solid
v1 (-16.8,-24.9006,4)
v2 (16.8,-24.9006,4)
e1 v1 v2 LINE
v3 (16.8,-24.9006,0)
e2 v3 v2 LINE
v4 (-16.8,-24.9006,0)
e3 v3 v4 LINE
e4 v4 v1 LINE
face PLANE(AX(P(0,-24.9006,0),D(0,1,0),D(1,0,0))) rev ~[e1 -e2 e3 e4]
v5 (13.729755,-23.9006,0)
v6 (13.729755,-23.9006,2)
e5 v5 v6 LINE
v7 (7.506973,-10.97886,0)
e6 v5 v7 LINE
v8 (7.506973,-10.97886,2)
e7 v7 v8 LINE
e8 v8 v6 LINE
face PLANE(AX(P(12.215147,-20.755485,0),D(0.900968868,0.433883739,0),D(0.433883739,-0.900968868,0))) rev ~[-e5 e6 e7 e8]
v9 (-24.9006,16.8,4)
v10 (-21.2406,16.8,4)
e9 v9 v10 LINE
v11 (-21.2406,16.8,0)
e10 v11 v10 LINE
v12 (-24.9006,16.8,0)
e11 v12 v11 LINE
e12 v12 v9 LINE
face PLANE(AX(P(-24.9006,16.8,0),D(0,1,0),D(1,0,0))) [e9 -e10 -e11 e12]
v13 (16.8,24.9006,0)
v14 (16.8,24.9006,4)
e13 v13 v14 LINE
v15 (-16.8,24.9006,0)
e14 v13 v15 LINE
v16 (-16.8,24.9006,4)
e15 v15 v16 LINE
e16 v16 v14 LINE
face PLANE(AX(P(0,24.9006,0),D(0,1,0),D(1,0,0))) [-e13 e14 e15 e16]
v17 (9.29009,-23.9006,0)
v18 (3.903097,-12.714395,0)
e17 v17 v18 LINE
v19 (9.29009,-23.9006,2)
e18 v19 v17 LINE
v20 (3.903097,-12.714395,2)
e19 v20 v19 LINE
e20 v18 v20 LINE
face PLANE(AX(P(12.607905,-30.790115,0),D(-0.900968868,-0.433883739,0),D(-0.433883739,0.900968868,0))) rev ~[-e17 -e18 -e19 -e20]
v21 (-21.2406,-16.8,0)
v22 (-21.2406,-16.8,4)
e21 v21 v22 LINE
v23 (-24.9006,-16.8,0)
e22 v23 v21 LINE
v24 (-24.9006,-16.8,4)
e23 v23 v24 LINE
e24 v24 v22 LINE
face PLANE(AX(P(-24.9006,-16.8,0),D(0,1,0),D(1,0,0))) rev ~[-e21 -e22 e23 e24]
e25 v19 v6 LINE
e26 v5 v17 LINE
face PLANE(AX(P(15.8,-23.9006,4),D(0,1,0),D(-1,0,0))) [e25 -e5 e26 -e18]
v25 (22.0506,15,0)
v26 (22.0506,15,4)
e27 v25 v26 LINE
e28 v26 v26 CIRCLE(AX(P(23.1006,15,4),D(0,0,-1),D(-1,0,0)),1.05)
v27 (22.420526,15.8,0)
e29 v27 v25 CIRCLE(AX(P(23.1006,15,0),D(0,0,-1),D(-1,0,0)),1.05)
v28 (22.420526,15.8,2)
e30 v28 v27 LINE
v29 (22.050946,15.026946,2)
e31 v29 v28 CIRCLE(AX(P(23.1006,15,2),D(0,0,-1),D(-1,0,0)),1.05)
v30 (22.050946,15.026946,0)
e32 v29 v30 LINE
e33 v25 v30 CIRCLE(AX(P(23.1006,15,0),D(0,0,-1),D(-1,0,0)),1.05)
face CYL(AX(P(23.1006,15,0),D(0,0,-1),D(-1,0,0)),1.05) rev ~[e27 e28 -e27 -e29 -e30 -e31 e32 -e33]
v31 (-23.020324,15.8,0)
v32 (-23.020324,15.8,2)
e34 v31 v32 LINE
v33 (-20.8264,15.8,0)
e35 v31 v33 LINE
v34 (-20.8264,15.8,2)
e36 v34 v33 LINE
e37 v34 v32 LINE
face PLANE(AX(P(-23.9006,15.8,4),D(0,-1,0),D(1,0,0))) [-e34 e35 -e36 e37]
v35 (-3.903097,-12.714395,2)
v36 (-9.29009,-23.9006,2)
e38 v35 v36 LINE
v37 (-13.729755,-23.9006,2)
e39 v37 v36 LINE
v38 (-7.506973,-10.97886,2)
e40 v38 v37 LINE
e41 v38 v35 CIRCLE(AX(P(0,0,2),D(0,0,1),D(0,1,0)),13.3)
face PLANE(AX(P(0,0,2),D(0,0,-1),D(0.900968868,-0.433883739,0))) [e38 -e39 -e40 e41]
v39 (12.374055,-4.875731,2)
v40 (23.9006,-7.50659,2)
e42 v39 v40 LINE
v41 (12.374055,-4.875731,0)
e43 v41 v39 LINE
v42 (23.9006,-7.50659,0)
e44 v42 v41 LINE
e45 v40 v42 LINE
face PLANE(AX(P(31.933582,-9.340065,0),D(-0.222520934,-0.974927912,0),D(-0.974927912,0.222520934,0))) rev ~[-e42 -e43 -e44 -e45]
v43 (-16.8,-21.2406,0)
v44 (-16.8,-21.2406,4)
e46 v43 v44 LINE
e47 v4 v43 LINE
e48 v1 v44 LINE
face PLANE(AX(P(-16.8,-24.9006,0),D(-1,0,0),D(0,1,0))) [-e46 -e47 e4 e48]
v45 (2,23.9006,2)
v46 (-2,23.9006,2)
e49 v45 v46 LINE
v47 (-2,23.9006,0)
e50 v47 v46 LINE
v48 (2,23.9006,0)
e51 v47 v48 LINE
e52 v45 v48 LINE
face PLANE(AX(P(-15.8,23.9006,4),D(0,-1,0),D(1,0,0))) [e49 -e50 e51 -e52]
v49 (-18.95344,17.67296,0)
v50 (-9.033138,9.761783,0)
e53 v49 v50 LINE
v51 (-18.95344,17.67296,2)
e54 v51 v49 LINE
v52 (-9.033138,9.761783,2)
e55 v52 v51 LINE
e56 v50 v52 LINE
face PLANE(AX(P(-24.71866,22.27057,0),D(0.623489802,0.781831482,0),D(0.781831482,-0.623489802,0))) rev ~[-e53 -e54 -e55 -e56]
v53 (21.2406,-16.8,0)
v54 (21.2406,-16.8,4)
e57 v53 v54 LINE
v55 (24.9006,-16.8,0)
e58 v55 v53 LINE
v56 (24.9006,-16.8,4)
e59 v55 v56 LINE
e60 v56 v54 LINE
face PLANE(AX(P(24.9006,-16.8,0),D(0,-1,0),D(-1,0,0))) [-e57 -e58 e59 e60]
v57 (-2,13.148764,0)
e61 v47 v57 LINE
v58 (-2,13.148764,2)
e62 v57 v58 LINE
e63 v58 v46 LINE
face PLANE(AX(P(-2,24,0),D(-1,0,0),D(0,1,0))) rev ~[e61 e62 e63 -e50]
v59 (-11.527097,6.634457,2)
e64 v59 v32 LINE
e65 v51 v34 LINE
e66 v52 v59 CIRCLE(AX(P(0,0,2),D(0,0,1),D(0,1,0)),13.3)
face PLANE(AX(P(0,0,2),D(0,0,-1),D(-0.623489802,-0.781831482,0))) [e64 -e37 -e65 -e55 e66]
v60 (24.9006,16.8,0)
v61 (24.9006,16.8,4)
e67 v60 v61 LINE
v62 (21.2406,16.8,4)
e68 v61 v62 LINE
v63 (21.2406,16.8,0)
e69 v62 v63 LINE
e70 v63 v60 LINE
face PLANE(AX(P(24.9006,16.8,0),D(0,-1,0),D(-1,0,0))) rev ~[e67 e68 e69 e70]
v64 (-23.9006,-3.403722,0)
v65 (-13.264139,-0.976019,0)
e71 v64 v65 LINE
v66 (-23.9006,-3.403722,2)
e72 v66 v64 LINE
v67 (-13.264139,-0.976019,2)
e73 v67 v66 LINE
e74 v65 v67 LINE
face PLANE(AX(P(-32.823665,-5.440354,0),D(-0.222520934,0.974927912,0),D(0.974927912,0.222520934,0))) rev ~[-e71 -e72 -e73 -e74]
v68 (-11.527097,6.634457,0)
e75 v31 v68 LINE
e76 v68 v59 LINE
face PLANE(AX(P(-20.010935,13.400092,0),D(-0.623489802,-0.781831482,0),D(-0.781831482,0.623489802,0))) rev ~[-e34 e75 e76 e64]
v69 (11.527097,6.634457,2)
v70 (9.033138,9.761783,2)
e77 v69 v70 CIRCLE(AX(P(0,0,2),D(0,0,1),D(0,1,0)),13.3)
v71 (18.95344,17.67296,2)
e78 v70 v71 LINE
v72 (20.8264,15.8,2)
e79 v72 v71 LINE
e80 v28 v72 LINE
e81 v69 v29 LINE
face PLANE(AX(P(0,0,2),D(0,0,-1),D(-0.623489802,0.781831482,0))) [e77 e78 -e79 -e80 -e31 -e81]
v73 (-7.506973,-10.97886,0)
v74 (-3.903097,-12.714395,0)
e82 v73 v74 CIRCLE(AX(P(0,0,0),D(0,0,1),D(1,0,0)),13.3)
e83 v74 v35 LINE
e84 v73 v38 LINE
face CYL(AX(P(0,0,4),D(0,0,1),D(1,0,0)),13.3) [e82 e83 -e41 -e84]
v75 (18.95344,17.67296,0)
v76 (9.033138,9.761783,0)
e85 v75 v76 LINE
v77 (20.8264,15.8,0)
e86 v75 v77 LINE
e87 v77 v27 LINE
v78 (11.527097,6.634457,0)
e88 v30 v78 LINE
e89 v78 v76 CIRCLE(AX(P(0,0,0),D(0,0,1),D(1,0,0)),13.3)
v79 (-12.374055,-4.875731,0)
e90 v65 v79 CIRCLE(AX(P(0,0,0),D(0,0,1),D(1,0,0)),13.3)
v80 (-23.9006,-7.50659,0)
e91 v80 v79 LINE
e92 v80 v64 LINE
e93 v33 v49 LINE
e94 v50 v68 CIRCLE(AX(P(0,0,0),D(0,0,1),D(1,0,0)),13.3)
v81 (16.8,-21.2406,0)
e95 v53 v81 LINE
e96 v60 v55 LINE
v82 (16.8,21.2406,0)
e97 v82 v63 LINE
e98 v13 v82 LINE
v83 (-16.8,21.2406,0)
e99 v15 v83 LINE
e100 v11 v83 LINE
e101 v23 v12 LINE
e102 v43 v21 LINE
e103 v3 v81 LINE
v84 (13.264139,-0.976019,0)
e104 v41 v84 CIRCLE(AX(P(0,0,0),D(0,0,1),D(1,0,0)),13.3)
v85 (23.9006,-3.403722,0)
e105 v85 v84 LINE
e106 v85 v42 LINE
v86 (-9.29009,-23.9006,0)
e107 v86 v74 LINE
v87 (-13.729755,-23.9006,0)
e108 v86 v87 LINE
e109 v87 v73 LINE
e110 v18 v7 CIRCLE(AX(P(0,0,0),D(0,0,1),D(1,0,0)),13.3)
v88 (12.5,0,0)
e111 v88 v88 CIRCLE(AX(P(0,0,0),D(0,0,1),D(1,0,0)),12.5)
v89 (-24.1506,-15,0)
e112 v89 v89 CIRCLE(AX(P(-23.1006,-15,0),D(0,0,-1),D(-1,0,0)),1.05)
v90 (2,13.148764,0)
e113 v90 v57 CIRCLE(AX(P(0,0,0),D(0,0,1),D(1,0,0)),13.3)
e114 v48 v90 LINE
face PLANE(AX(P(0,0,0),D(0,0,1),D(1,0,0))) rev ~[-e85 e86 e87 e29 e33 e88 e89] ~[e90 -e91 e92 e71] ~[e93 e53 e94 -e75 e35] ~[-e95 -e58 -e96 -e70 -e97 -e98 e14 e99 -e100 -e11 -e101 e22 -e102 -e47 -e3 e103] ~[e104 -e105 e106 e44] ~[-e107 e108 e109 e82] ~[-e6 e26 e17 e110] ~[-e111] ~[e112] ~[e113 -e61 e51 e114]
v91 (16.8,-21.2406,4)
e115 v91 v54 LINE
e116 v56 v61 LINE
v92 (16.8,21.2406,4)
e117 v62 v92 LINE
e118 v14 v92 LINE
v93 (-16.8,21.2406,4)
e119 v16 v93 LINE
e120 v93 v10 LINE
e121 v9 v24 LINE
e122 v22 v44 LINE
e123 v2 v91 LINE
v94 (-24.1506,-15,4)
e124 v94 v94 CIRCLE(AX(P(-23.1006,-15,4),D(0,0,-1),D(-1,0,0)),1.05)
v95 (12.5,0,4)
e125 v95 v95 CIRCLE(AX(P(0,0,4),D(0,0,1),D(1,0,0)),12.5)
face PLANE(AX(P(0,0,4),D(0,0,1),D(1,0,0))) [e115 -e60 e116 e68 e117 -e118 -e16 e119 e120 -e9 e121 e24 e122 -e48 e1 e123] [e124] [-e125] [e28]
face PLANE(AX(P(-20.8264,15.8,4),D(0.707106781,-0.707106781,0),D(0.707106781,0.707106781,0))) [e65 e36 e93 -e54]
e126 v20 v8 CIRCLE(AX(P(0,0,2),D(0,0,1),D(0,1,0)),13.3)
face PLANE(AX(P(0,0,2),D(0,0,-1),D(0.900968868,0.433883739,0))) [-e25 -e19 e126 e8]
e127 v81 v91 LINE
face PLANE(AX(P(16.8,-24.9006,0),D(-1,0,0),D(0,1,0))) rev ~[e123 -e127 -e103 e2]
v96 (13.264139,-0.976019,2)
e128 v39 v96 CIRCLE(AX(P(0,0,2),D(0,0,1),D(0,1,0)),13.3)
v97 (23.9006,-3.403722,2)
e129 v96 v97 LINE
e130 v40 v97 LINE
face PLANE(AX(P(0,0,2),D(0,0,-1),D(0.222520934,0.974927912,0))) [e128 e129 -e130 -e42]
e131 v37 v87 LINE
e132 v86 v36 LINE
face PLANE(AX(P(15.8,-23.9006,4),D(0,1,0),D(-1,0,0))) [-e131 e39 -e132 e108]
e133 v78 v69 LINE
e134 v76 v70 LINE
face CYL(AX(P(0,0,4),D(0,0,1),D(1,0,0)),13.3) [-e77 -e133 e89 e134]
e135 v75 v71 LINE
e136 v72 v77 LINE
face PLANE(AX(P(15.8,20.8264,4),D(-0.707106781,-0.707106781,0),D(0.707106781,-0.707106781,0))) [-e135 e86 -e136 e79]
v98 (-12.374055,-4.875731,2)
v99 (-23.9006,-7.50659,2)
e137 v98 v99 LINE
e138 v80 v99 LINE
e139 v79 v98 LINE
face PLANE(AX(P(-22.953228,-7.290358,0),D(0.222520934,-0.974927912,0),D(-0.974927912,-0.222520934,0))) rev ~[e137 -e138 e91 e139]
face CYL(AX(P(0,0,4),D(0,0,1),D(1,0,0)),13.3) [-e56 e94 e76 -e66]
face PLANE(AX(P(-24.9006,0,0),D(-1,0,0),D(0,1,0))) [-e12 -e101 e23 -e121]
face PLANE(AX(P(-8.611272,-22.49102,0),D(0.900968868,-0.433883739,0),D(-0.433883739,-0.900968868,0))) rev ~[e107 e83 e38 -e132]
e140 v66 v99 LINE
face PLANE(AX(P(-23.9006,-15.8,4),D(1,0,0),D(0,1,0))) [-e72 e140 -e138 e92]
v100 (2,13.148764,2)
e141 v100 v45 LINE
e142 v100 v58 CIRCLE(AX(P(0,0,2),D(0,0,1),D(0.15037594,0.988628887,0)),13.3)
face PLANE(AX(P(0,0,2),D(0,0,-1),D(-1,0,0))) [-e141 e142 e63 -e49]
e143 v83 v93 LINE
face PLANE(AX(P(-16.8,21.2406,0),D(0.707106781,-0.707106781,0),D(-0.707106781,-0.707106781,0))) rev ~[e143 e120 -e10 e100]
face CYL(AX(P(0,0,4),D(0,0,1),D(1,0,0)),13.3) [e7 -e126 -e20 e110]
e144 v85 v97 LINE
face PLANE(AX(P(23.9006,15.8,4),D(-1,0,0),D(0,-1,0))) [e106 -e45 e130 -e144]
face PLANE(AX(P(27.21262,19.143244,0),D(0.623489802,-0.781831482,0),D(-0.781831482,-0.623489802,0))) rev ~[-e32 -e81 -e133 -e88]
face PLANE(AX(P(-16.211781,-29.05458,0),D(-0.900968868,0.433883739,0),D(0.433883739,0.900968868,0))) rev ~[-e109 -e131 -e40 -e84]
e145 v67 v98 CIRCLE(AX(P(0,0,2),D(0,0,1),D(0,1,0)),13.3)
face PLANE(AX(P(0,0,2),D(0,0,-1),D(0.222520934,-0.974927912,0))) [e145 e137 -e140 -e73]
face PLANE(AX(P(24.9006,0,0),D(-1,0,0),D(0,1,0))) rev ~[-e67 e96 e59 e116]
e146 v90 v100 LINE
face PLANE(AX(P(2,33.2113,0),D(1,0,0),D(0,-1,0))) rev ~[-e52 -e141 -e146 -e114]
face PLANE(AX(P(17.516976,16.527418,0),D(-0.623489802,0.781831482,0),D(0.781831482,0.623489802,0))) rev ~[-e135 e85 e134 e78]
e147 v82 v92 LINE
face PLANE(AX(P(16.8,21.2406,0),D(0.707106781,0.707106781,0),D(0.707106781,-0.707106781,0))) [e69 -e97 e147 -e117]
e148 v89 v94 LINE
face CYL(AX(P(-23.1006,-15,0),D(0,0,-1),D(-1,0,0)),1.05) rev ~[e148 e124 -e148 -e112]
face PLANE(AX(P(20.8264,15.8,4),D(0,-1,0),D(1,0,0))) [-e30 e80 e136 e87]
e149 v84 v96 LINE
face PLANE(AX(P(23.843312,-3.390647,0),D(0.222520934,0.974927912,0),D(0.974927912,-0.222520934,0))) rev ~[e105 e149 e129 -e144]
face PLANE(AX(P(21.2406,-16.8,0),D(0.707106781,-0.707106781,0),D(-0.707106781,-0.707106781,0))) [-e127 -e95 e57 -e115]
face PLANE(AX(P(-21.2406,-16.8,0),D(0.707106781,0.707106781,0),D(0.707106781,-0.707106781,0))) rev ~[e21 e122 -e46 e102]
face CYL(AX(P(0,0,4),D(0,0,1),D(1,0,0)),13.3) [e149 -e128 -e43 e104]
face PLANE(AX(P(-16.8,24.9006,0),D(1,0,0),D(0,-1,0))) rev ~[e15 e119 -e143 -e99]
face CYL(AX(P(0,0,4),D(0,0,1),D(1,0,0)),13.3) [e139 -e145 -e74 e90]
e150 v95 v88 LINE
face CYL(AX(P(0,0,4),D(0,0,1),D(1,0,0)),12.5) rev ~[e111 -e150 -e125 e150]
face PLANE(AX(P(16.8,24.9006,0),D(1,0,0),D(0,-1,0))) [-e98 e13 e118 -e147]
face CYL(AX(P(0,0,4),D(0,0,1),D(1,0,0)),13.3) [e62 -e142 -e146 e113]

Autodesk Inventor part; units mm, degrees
ref_plane "YZ Plane" through (0, 0, 0) normal (1, 0, 0) x (0, 1, 0)
ref_plane "XZ Plane" through (0, 0, 0) normal (0, 1, 0) x (-1, 0, 0)
ref_plane "XY Plane" through (0, 0, 0) normal (0, 0, 1) x (1, 0, 0)
sketch "Sketch1" plane through (0, 0, 0) normal (0, 0, 1) x (1, 0, 0)
  line L0 (-34.8609, 0) -> (34.8609, 0) construction
  line L1 (0, -34.8609) -> (0, 34.8609) construction
  line L2 (0, 0) -> (11.6542, 11.6542) construction
  line L3 (0, 0) -> (16.4815, 0) construction
  line L4 (0, 24.9006) -> (16.8, 24.9006)
  line L5 (16.8, 24.9006) -> (16.8, 21.2406)
  line L6 (16.8, 21.2406) -> (19.0203, 19.0203)
  line L7 (24.9006, 0) -> (24.9006, 16.8)
  line L8 (24.9006, 16.8) -> (21.2406, 16.8)
  line L9 (21.2406, 16.8) -> (19.0203, 19.0203)
  line L10 (0, 0) -> (-11.6542, 11.6542) construction
  line L11 (0, 0) -> (-16.4815, 0) construction
  line L12 (0, 24.9006) -> (-16.8, 24.9006)
  line L13 (-16.8, 24.9006) -> (-16.8, 21.2406)
  line L14 (-16.8, 21.2406) -> (-19.0203, 19.0203)
  line L15 (-24.9006, 0) -> (-24.9006, 16.8)
  line L16 (-24.9006, 16.8) -> (-21.2406, 16.8)
  line L17 (-21.2406, 16.8) -> (-19.0203, 19.0203)
  line L18 (0, 0) -> (11.6542, -11.6542) construction
  line L19 (0, -24.9006) -> (16.8, -24.9006)
  line L20 (16.8, -24.9006) -> (16.8, -21.2406)
  line L21 (16.8, -21.2406) -> (19.0203, -19.0203)
  line L22 (24.9006, 0) -> (24.9006, -16.8)
  line L23 (24.9006, -16.8) -> (21.2406, -16.8)
  line L24 (21.2406, -16.8) -> (19.0203, -19.0203)
  line L25 (0, 0) -> (-11.6542, -11.6542) construction
  line L26 (0, -24.9006) -> (-16.8, -24.9006)
  line L27 (-16.8, -24.9006) -> (-16.8, -21.2406)
  line L28 (-16.8, -21.2406) -> (-19.0203, -19.0203)
  line L29 (-24.9006, 0) -> (-24.9006, -16.8)
  line L30 (-24.9006, -16.8) -> (-21.2406, -16.8)
  line L31 (-21.2406, -16.8) -> (-19.0203, -19.0203)
  dimension "d0" = 45
  dimension "d1" = 3.14
  dimension "d2" = 3.66
  dimension "d3" = 16.8
extrude "Extrusion1" add sketch "Sketch1" along normal blind 4
hole "Hole1" at (0, 0, 0) direction (0, 0, 1) diameter 26.6 end through all
sketch "Sketch6" plane through (0, 0, 4) normal (0, 0, 1) x (1, 0, 0)
  circle A0 centre (0, 0) radius 13.3 construction
  line L0 (16.8, 24.9006) -> (-16.8, 24.9006) construction
  line L1 (-16.8, 24.9006) -> (-16.8, 21.2406) construction
  line L2 (-16.8, 21.2406) -> (-21.2406, 16.8) construction
  line L3 (-21.2406, 16.8) -> (-24.9006, 16.8) construction
  line L4 (-24.9006, 16.8) -> (-24.9006, -16.8) construction
  line L5 (-24.9006, -16.8) -> (-21.2406, -16.8) construction
  line L6 (-21.2406, -16.8) -> (-16.8, -21.2406) construction
  line L7 (-16.8, -21.2406) -> (-16.8, -24.9006) construction
  line L8 (-16.8, -24.9006) -> (16.8, -24.9006) construction
  line L9 (16.8, -24.9006) -> (16.8, -21.2406) construction
  line L10 (16.8, -21.2406) -> (21.2406, -16.8) construction
  line L11 (21.2406, -16.8) -> (24.9006, -16.8) construction
  line L12 (24.9006, -16.8) -> (24.9006, 16.8) construction
  line L13 (24.9006, 16.8) -> (21.2406, 16.8) construction
  line L14 (21.2406, 16.8) -> (16.8, 21.2406) construction
  line L15 (16.8, 21.2406) -> (16.8, 24.9006) construction
  circle A1 centre (0, 0) radius 13.3
  circle A2 centre (0, 0) radius 13.5
  dimension "d42" = 26.6
  dimension "d43" = 27
extrude "Extrusion4" [suppressed]
sketch "Sketch7" plane through (0, 0, 0) normal (0, 0, -1) x (-1, 0, 0)
  line L0 (16.8, 24.9006) -> (-16.8, 24.9006) construction
  line L1 (-16.8, 24.9006) -> (-16.8, 21.2406) construction
  line L2 (-16.8, 21.2406) -> (-21.2406, 16.8) construction
  line L3 (-21.2406, 16.8) -> (-24.9006, 16.8) construction
  line L4 (-24.9006, 16.8) -> (-24.9006, -16.8) construction
  line L5 (-24.9006, -16.8) -> (-21.2406, -16.8) construction
  line L6 (-21.2406, -16.8) -> (-16.8, -21.2406) construction
  line L7 (-16.8, -21.2406) -> (-16.8, -24.9006) construction
  line L8 (-16.8, -24.9006) -> (16.8, -24.9006) construction
  line L9 (16.8, -24.9006) -> (16.8, -21.2406) construction
  line L10 (16.8, -21.2406) -> (21.2406, -16.8) construction
  line L11 (21.2406, -16.8) -> (24.9006, -16.8) construction
  line L12 (24.9006, -16.8) -> (24.9006, 16.8) construction
  line L13 (24.9006, 16.8) -> (21.2406, 16.8) construction
  line L14 (21.2406, 16.8) -> (16.8, 21.2406) construction
  line L15 (16.8, 21.2406) -> (16.8, 24.9006) construction
  line L16 (-2.0147, 24.1761) -> (-2, 24) construction
  line L17 (-1.9775, 24.0019) -> (-1.9921, 24.178) construction
  line L18 (1.9921, 24.178) -> (1.9775, 24.0019) construction
  line L19 (2, 24) -> (2.0147, 24.1761) construction
  line L20 (5.9445, 23.5204) -> (5.9012, 23.349) construction
  line L21 (5.923, 23.3435) -> (5.9665, 23.5148) construction
  line L22 (9.7347, 22.2212) -> (9.6638, 22.0593) construction
  line L23 (9.6844, 22.0502) -> (9.7555, 22.212) construction
  line L24 (13.2594, 20.3158) -> (13.1628, 20.1678) construction
  line L25 (13.1817, 20.1555) -> (13.2784, 20.3034) construction
  line L26 (16.4225, 17.8563) -> (16.3028, 17.7262) construction
  line L27 (16.3194, 17.7109) -> (16.4392, 17.8409) construction
  line L28 (19.1375, 14.9097) -> (18.9981, 14.8011) construction
  line L29 (19.0119, 14.7833) -> (19.1515, 14.8918) construction
  line L30 (21.3306, 11.5564) -> (21.1752, 11.4722) construction
  line L31 (21.1859, 11.4524) -> (21.3414, 11.5365) construction
  line L32 (22.9418, 7.8879) -> (22.7746, 7.8305) construction
  line L33 (22.782, 7.8091) -> (22.9492, 7.8665) construction
  line L34 (23.9272, 4.0042) -> (23.7529, 3.9751) construction
  line L35 (23.7566, 3.9529) -> (23.9309, 3.9819) construction
  line L36 (24.2599, 0.0113) -> (24.0832, 0.0113) construction
  line L37 (24.0832, -0.0113) -> (24.2599, -0.0113) construction
  line L38 (23.9309, -3.9819) -> (23.7566, -3.9529) construction
  line L39 (23.7529, -3.9751) -> (23.9272, -4.0042) construction
  line L40 (22.9492, -7.8665) -> (22.782, -7.8091) construction
  line L41 (22.7746, -7.8305) -> (22.9418, -7.8879) construction
  line L42 (21.3414, -11.5365) -> (21.1859, -11.4524) construction
  line L43 (21.1752, -11.4722) -> (21.3306, -11.5564) construction
  line L44 (19.1515, -14.8918) -> (19.0119, -14.7833) construction
  line L45 (18.9981, -14.8011) -> (19.1375, -14.9097) construction
  line L46 (16.4392, -17.8409) -> (16.3194, -17.7109) construction
  line L47 (16.3028, -17.7262) -> (16.4225, -17.8563) construction
  line L48 (13.2784, -20.3034) -> (13.1817, -20.1555) construction
  line L49 (13.1628, -20.1678) -> (13.2594, -20.3158) construction
  line L50 (9.7555, -22.212) -> (9.6844, -22.0502) construction
  line L51 (9.6638, -22.0593) -> (9.7347, -22.2212) construction
  line L52 (5.9665, -23.5148) -> (5.923, -23.3435) construction
  line L53 (5.9012, -23.349) -> (5.9445, -23.5204) construction
  line L54 (2.0147, -24.1761) -> (2, -24) construction
  line L55 (1.9775, -24.0019) -> (1.9921, -24.178) construction
  line L56 (-1.9921, -24.178) -> (-1.9775, -24.0019) construction
  line L57 (-2, -24) -> (-2.0147, -24.1761) construction
  line L58 (-5.9445, -23.5204) -> (-5.9012, -23.349) construction
  line L59 (-5.923, -23.3435) -> (-5.9665, -23.5148) construction
  line L60 (-9.7347, -22.2212) -> (-9.6638, -22.0593) construction
  line L61 (-9.6844, -22.0502) -> (-9.7555, -22.212) construction
  line L62 (-13.2594, -20.3158) -> (-13.1628, -20.1678) construction
  line L63 (-13.1817, -20.1555) -> (-13.2784, -20.3034) construction
  line L64 (-16.4225, -17.8563) -> (-16.3028, -17.7262) construction
  line L65 (-16.3194, -17.7109) -> (-16.4392, -17.8409) construction
  line L66 (-19.1375, -14.9097) -> (-18.9981, -14.8011) construction
  line L67 (-19.0119, -14.7833) -> (-19.1515, -14.8918) construction
  line L68 (-21.3306, -11.5564) -> (-21.1752, -11.4722) construction
  line L69 (-21.1859, -11.4524) -> (-21.3414, -11.5365) construction
  line L70 (-22.9418, -7.8879) -> (-22.7746, -7.8305) construction
  line L71 (-22.782, -7.8091) -> (-22.9492, -7.8665) construction
  line L72 (-23.9272, -4.0042) -> (-23.7529, -3.9751) construction
  line L73 (-23.7566, -3.9529) -> (-23.9309, -3.9819) construction
  line L74 (-24.2599, -0.0113) -> (-24.0832, -0.0113) construction
  line L75 (-24.0832, 0.0113) -> (-24.2599, 0.0113) construction
  line L76 (-23.9309, 3.9819) -> (-23.7566, 3.9529) construction
  line L77 (-23.7529, 3.9751) -> (-23.9272, 4.0042) construction
  line L78 (-22.9492, 7.8665) -> (-22.782, 7.8091) construction
  line L79 (-22.7746, 7.8305) -> (-22.9418, 7.8879) construction
  line L80 (-21.3414, 11.5365) -> (-21.1859, 11.4524) construction
  line L81 (-21.1752, 11.4722) -> (-21.3306, 11.5564) construction
  line L82 (-19.1515, 14.8918) -> (-19.0119, 14.7833) construction
  line L83 (-18.9981, 14.8011) -> (-19.1375, 14.9097) construction
  line L84 (-16.4392, 17.8409) -> (-16.3194, 17.7109) construction
  line L85 (-16.3028, 17.7262) -> (-16.4225, 17.8563) construction
  line L86 (-13.2784, 20.3034) -> (-13.1817, 20.1555) construction
  line L87 (-13.1628, 20.1678) -> (-13.2594, 20.3158) construction
  line L88 (-9.7555, 22.212) -> (-9.6844, 22.0502) construction
  line L89 (-9.6638, 22.0593) -> (-9.7347, 22.2212) construction
  line L90 (-5.9665, 23.5148) -> (-5.923, 23.3435) construction
  line L91 (-5.9012, 23.349) -> (-5.9445, 23.5204) construction
  circle A0 centre (0, 24.5946) radius 2 construction
  line L92 (2, 33.2113) -> (-2, 33.2113)
  line L93 (-2, 33.2113) -> (-2, 6.8481)
  line L94 (-2, 6.8481) -> (2, 6.8481)
  line L95 (2, 6.8481) -> (2, 33.2113)
  circle A1 centre (-17.7867, 14.1844) radius 1.25 projected
  circle A2 centre (-22.1796, -5.0624) radius 1.25 projected
  circle A3 centre (-9.8709, -20.497) radius 1.25 projected
  circle A4 centre (9.8709, -20.497) radius 1.25 projected
  circle A5 centre (22.1796, -5.0624) radius 1.25 projected
  circle A6 centre (17.7867, 14.1844) radius 1.25 projected
  circle A7 centre (0, 22.75) radius 1.25 projected
  arc A8 (-2.0147, 24.1761) -> (-5.9445, 23.5204) centre (-3.9503, 23.6727) ccw projected
  arc A9 (-1.9973, 24.1039) -> (-2, 24) centre (0, 24) ccw projected
  arc A10 (-1.9775, 24.0019) -> (-1.9973, 24.1039) centre (-3.9503, 23.6727) ccw projected
  arc A11 (1.9921, 24.178) -> (-1.9921, 24.178) centre (0, 24) ccw projected
  arc A12 (1.9973, 24.1039) -> (1.9775, 24.0019) centre (3.9503, 23.6727) ccw projected
  arc A13 (2, 24) -> (1.9973, 24.1039) centre (0, 24) ccw projected
  arc A14 (5.9445, 23.5204) -> (2.0147, 24.1761) centre (3.9503, 23.6727) ccw projected
  arc A15 (5.9374, 23.4464) -> (5.9012, 23.349) centre (7.7928, 22.6996) ccw projected
  arc A16 (5.923, 23.3435) -> (5.9374, 23.4464) centre (3.9503, 23.6727) ccw projected
  arc A17 (9.7347, 22.2212) -> (5.9665, 23.5148) centre (7.7928, 22.6996) ccw projected
  arc A18 (9.7156, 22.1493) -> (9.6638, 22.0593) centre (11.4227, 21.1074) ccw projected
  arc A19 (9.6844, 22.0502) -> (9.7156, 22.1493) centre (7.7928, 22.6996) ccw projected
  arc A20 (13.2594, 20.3158) -> (9.7555, 22.212) centre (11.4227, 21.1074) ccw projected
  arc A21 (13.2287, 20.2481) -> (13.1628, 20.1678) centre (14.7411, 18.9394) ccw projected
  arc A22 (13.1817, 20.1555) -> (13.2287, 20.2481) centre (11.4227, 21.1074) ccw projected
  arc A23 (16.4225, 17.8563) -> (13.2784, 20.3034) centre (14.7411, 18.9394) ccw projected
  arc A24 (16.381, 17.7946) -> (16.3028, 17.7262) centre (17.6574, 16.2548) ccw projected
  arc A25 (16.3194, 17.7109) -> (16.381, 17.7946) centre (14.7411, 18.9394) ccw projected
  arc A26 (19.1375, 14.9097) -> (16.4392, 17.8409) centre (17.6574, 16.2548) ccw projected
  arc A27 (19.0865, 14.8556) -> (18.9981, 14.8011) centre (20.092, 13.1268) ccw projected
  arc A28 (19.0119, 14.7833) -> (19.0865, 14.8556) centre (17.6574, 16.2548) ccw projected
  arc A29 (21.3306, 11.5564) -> (19.1515, 14.8918) centre (20.092, 13.1268) ccw projected
  arc A30 (21.2714, 11.5115) -> (21.1752, 11.4722) centre (21.9786, 9.6407) ccw projected
  arc A31 (21.1859, 11.4524) -> (21.2714, 11.5115) centre (20.092, 13.1268) ccw projected
  arc A32 (22.9418, 7.8879) -> (21.3414, 11.5365) centre (21.9786, 9.6407) ccw projected
  arc A33 (22.876, 7.8533) -> (22.7746, 7.8305) centre (23.2656, 5.8917) ccw projected
  arc A34 (22.782, 7.8091) -> (22.876, 7.8533) centre (21.9786, 9.6407) ccw projected
  arc A35 (23.9272, 4.0042) -> (22.9492, 7.8665) centre (23.2656, 5.8917) ccw projected
  arc A36 (23.8566, 3.981) -> (23.7529, 3.9751) centre (23.918, 1.9819) ccw projected
  arc A37 (23.7566, 3.9529) -> (23.8566, 3.981) centre (23.2656, 5.8917) ccw projected
  arc A38 (24.2599, 0.0113) -> (23.9309, 3.9819) centre (23.918, 1.9819) ccw projected
  arc A39 (24.1865, 0) -> (24.0832, 0.0113) centre (23.918, -1.9819) ccw projected
  arc A40 (24.0832, -0.0113) -> (24.1865, 0) centre (23.918, 1.9819) ccw projected
  arc A41 (23.9309, -3.9819) -> (24.2599, -0.0113) centre (23.918, -1.9819) ccw projected
  arc A42 (23.8566, -3.981) -> (23.7566, -3.9529) centre (23.2656, -5.8917) ccw projected
  arc A43 (23.7529, -3.9751) -> (23.8566, -3.981) centre (23.918, -1.9819) ccw projected
  arc A44 (22.9492, -7.8665) -> (23.9272, -4.0042) centre (23.2656, -5.8917) ccw projected
  arc A45 (22.876, -7.8533) -> (22.782, -7.8091) centre (21.9786, -9.6407) ccw projected
  arc A46 (22.7746, -7.8305) -> (22.876, -7.8533) centre (23.2656, -5.8917) ccw projected
  arc A47 (21.3414, -11.5365) -> (22.9418, -7.8879) centre (21.9786, -9.6407) ccw projected
  arc A48 (21.2714, -11.5115) -> (21.1859, -11.4524) centre (20.092, -13.1268) ccw projected
  arc A49 (21.1752, -11.4722) -> (21.2714, -11.5115) centre (21.9786, -9.6407) ccw projected
  arc A50 (19.1515, -14.8918) -> (21.3306, -11.5564) centre (20.092, -13.1268) ccw projected
  arc A51 (19.0865, -14.8556) -> (19.0119, -14.7833) centre (17.6574, -16.2548) ccw projected
  arc A52 (18.9981, -14.8011) -> (19.0865, -14.8556) centre (20.092, -13.1268) ccw projected
  arc A53 (16.4392, -17.8409) -> (19.1375, -14.9097) centre (17.6574, -16.2548) ccw projected
  arc A54 (16.381, -17.7946) -> (16.3194, -17.7109) centre (14.7411, -18.9394) ccw projected
  arc A55 (16.3028, -17.7262) -> (16.381, -17.7946) centre (17.6574, -16.2548) ccw projected
  arc A56 (13.2784, -20.3034) -> (16.4225, -17.8563) centre (14.7411, -18.9394) ccw projected
  arc A57 (13.2287, -20.2481) -> (13.1817, -20.1555) centre (11.4227, -21.1074) ccw projected
  arc A58 (13.1628, -20.1678) -> (13.2287, -20.2481) centre (14.7411, -18.9394) ccw projected
  arc A59 (9.7555, -22.212) -> (13.2594, -20.3158) centre (11.4227, -21.1074) ccw projected
  arc A60 (9.7156, -22.1493) -> (9.6844, -22.0502) centre (7.7928, -22.6996) ccw projected
  arc A61 (9.6638, -22.0593) -> (9.7156, -22.1493) centre (11.4227, -21.1074) ccw projected
  arc A62 (5.9665, -23.5148) -> (9.7347, -22.2212) centre (7.7928, -22.6996) ccw projected
  arc A63 (5.9374, -23.4464) -> (5.923, -23.3435) centre (3.9503, -23.6727) ccw projected
  arc A64 (5.9012, -23.349) -> (5.9374, -23.4464) centre (7.7928, -22.6996) ccw projected
  arc A65 (2.0147, -24.1761) -> (5.9445, -23.5204) centre (3.9503, -23.6727) ccw projected
  arc A66 (1.9973, -24.1039) -> (2, -24) centre (0, -24) ccw projected
  arc A67 (1.9775, -24.0019) -> (1.9973, -24.1039) centre (3.9503, -23.6727) ccw projected
  arc A68 (-1.9921, -24.178) -> (1.9921, -24.178) centre (0, -24) ccw projected
  arc A69 (-1.9973, -24.1039) -> (-1.9775, -24.0019) centre (-3.9503, -23.6727) ccw projected
  arc A70 (-2, -24) -> (-1.9973, -24.1039) centre (0, -24) ccw projected
  arc A71 (-5.9445, -23.5204) -> (-2.0147, -24.1761) centre (-3.9503, -23.6727) ccw projected
  arc A72 (-5.9374, -23.4464) -> (-5.9012, -23.349) centre (-7.7928, -22.6996) ccw projected
  arc A73 (-5.923, -23.3435) -> (-5.9374, -23.4464) centre (-3.9503, -23.6727) ccw projected
  arc A74 (-9.7347, -22.2212) -> (-5.9665, -23.5148) centre (-7.7928, -22.6996) ccw projected
  arc A75 (-9.7156, -22.1493) -> (-9.6638, -22.0593) centre (-11.4227, -21.1074) ccw projected
  arc A76 (-9.6844, -22.0502) -> (-9.7156, -22.1493) centre (-7.7928, -22.6996) ccw projected
  arc A77 (-13.2594, -20.3158) -> (-9.7555, -22.212) centre (-11.4227, -21.1074) ccw projected
  arc A78 (-13.2287, -20.2481) -> (-13.1628, -20.1678) centre (-14.7411, -18.9394) ccw projected
  arc A79 (-13.1817, -20.1555) -> (-13.2287, -20.2481) centre (-11.4227, -21.1074) ccw projected
  arc A80 (-16.4225, -17.8563) -> (-13.2784, -20.3034) centre (-14.7411, -18.9394) ccw projected
  arc A81 (-16.381, -17.7946) -> (-16.3028, -17.7262) centre (-17.6574, -16.2548) ccw projected
  arc A82 (-16.3194, -17.7109) -> (-16.381, -17.7946) centre (-14.7411, -18.9394) ccw projected
  arc A83 (-19.1375, -14.9097) -> (-16.4392, -17.8409) centre (-17.6574, -16.2548) ccw projected
  arc A84 (-19.0865, -14.8556) -> (-18.9981, -14.8011) centre (-20.092, -13.1268) ccw projected
  arc A85 (-19.0119, -14.7833) -> (-19.0865, -14.8556) centre (-17.6574, -16.2548) ccw projected
  arc A86 (-21.3306, -11.5564) -> (-19.1515, -14.8918) centre (-20.092, -13.1268) ccw projected
  arc A87 (-21.2714, -11.5115) -> (-21.1752, -11.4722) centre (-21.9786, -9.6407) ccw projected
  arc A88 (-21.1859, -11.4524) -> (-21.2714, -11.5115) centre (-20.092, -13.1268) ccw projected
  arc A89 (-22.9418, -7.8879) -> (-21.3414, -11.5365) centre (-21.9786, -9.6407) ccw projected
  arc A90 (-22.876, -7.8533) -> (-22.7746, -7.8305) centre (-23.2656, -5.8917) ccw projected
  arc A91 (-22.782, -7.8091) -> (-22.876, -7.8533) centre (-21.9786, -9.6407) ccw projected
  arc A92 (-23.9272, -4.0042) -> (-22.9492, -7.8665) centre (-23.2656, -5.8917) ccw projected
  arc A93 (-23.8566, -3.981) -> (-23.7529, -3.9751) centre (-23.918, -1.9819) ccw projected
  arc A94 (-23.7566, -3.9529) -> (-23.8566, -3.981) centre (-23.2656, -5.8917) ccw projected
  arc A95 (-24.2599, -0.0113) -> (-23.9309, -3.9819) centre (-23.918, -1.9819) ccw projected
  arc A96 (-24.1865, 0) -> (-24.0832, -0.0113) centre (-23.918, 1.9819) ccw projected
  arc A97 (-24.0832, 0.0113) -> (-24.1865, 0) centre (-23.918, -1.9819) ccw projected
  arc A98 (-23.9309, 3.9819) -> (-24.2599, 0.0113) centre (-23.918, 1.9819) ccw projected
  arc A99 (-23.8566, 3.981) -> (-23.7566, 3.9529) centre (-23.2656, 5.8917) ccw projected
  arc A100 (-23.7529, 3.9751) -> (-23.8566, 3.981) centre (-23.918, 1.9819) ccw projected
  arc A101 (-22.9492, 7.8665) -> (-23.9272, 4.0042) centre (-23.2656, 5.8917) ccw projected
  arc A102 (-22.876, 7.8533) -> (-22.782, 7.8091) centre (-21.9786, 9.6407) ccw projected
  arc A103 (-22.7746, 7.8305) -> (-22.876, 7.8533) centre (-23.2656, 5.8917) ccw projected
  arc A104 (-21.3414, 11.5365) -> (-22.9418, 7.8879) centre (-21.9786, 9.6407) ccw projected
  arc A105 (-21.2714, 11.5115) -> (-21.1859, 11.4524) centre (-20.092, 13.1268) ccw projected
  arc A106 (-21.1752, 11.4722) -> (-21.2714, 11.5115) centre (-21.9786, 9.6407) ccw projected
  arc A107 (-19.1515, 14.8918) -> (-21.3306, 11.5564) centre (-20.092, 13.1268) ccw projected
  arc A108 (-19.0865, 14.8556) -> (-19.0119, 14.7833) centre (-17.6574, 16.2548) ccw projected
  arc A109 (-18.9981, 14.8011) -> (-19.0865, 14.8556) centre (-20.092, 13.1268) ccw projected
  arc A110 (-16.4392, 17.8409) -> (-19.1375, 14.9097) centre (-17.6574, 16.2548) ccw projected
  arc A111 (-16.381, 17.7946) -> (-16.3194, 17.7109) centre (-14.7411, 18.9394) ccw projected
  arc A112 (-16.3028, 17.7262) -> (-16.381, 17.7946) centre (-17.6574, 16.2548) ccw projected
  arc A113 (-13.2784, 20.3034) -> (-16.4225, 17.8563) centre (-14.7411, 18.9394) ccw projected
  arc A114 (-13.2287, 20.2481) -> (-13.1817, 20.1555) centre (-11.4227, 21.1074) ccw projected
  arc A115 (-13.1628, 20.1678) -> (-13.2287, 20.2481) centre (-14.7411, 18.9394) ccw projected
  arc A116 (-9.7555, 22.212) -> (-13.2594, 20.3158) centre (-11.4227, 21.1074) ccw projected
  arc A117 (-9.7156, 22.1493) -> (-9.6844, 22.0502) centre (-7.7928, 22.6996) ccw projected
  arc A118 (-9.6638, 22.0593) -> (-9.7156, 22.1493) centre (-11.4227, 21.1074) ccw projected
  arc A119 (-5.9665, 23.5148) -> (-9.7347, 22.2212) centre (-7.7928, 22.6996) ccw projected
  arc A120 (-5.9374, 23.4464) -> (-5.923, 23.3435) centre (-3.9503, 23.6727) ccw projected
  arc A121 (-5.9012, 23.349) -> (-5.9374, 23.4464) centre (-7.7928, 22.6996) ccw projected
  circle A122 centre (0, 0) radius 21 projected
  point P0 (0, 0)
  point P1 (3.35, 15.4344)
  point P2 (3.35, -6.3124)
  point P3 (3.35, 24.1039)
  point P4 (3.35, 24.1039)
  point P5 (3.35, 25.6727)
  point P6 (3.35, 23.4464)
  point P7 (3.35, 20.3158)
  point P8 (3.35, 20.2481)
  point P9 (3.35, 17.7946)
  point P10 (3.35, 14.8556)
  point P11 (3.35, 11.5115)
  point P12 (3.35, 7.8533)
  point P13 (3.35, 3.981)
  point P14 (3.35, 0.0113)
  point P15 (3.35, 0)
  point P16 (3.35, -3.981)
  point P17 (3.35, -7.8533)
  point P18 (3.35, -11.5115)
  point P19 (3.35, -14.8556)
  point P20 (3.35, -18.2548)
  point P21 (3.35, -17.7946)
  point P22 (3.35, -20.2481)
  point P23 (3.35, -22.1493)
  point P24 (3.35, -23.4464)
  point P25 (3.35, -24.1039)
  point P26 (3.35, -24.1039)
  point P27 (3.35, -25.6727)
  point P28 (3.35, -23.4464)
  point P29 (3.35, -20.3158)
  point P30 (3.35, -20.1555)
  point P31 (3.35, -17.7109)
  point P32 (3.35, -14.7833)
  point P33 (3.35, -11.4524)
  point P34 (3.35, -7.8091)
  point P35 (3.35, -3.9529)
  point P36 (3.35, -0.0113)
  point P37 (3.35, 0.0113)
  point P38 (3.35, 3.981)
  point P39 (3.35, 7.8533)
  point P40 (3.35, 11.5115)
  point P41 (3.35, 14.8556)
  point P42 (3.35, 18.2548)
  point P43 (3.35, 17.7946)
  point P44 (3.35, 20.2481)
  point P45 (3.35, 22.1493)
  point P46 (3.35, 23.4464)
  dimension "d32" = 4
extrude "Extrusion5" cut sketch "Sketch7" against normal blind 2 contours L95 A122 L93 L92 | L95 L94 L93 A122 | A7 picked at (0.2225, 11.5619)
pattern_circular "Circular Pattern1" count 7 over 360 about axis through (0, 0, -10) along (0, 0, 1) of "Extrusion5"
sketch "Sketch8" plane through (0, 0, 4) normal (0, 0, 1) x (1, 0, 0)
  line L0 (16.8, 24.9006) -> (-16.8, 24.9006) projected
  line L1 (-16.8, 24.9006) -> (-16.8, 21.2406) projected
  line L2 (-16.8, 21.2406) -> (-21.2406, 16.8) projected
  line L3 (-21.2406, 16.8) -> (-24.9006, 16.8) projected
  line L4 (-24.9006, 16.8) -> (-24.9006, -16.8) projected
  line L5 (-24.9006, -16.8) -> (-21.2406, -16.8) projected
  line L6 (-21.2406, -16.8) -> (-16.8, -21.2406) projected
  line L7 (-16.8, -21.2406) -> (-16.8, -24.9006) projected
  line L8 (-16.8, -24.9006) -> (16.8, -24.9006) projected
  line L9 (16.8, -24.9006) -> (16.8, -21.2406) projected
  line L10 (16.8, -21.2406) -> (21.2406, -16.8) projected
  line L11 (21.2406, -16.8) -> (24.9006, -16.8) projected
  line L12 (24.9006, -16.8) -> (24.9006, 16.8) projected
  line L13 (24.9006, 16.8) -> (21.2406, 16.8) projected
  line L14 (21.2406, 16.8) -> (16.8, 21.2406) projected
  line L15 (16.8, 21.2406) -> (16.8, 24.9006) projected
  line L16 (-23.9006, -15.8) -> (-23.9006, 15.8)
  line L17 (-23.9006, 15.8) -> (-20.8264, 15.8)
  line L18 (-20.8264, 15.8) -> (-15.8, 20.8264)
  line L19 (-15.8, 20.8264) -> (-15.8, 23.9006)
  line L20 (-15.8, 23.9006) -> (15.8, 23.9006)
  line L21 (15.8, 23.9006) -> (15.8, 20.8264)
  line L22 (15.8, 20.8264) -> (20.8264, 15.8)
  line L23 (20.8264, 15.8) -> (23.9006, 15.8)
  line L24 (23.9006, 15.8) -> (23.9006, -15.8)
  line L25 (23.9006, -15.8) -> (20.8264, -15.8)
  line L26 (20.8264, -15.8) -> (15.8, -20.8264)
  line L27 (15.8, -20.8264) -> (15.8, -23.9006)
  line L28 (15.8, -23.9006) -> (-15.8, -23.9006)
  line L29 (-15.8, -23.9006) -> (-15.8, -20.8264)
  line L30 (-15.8, -20.8264) -> (-20.8264, -15.8)
  line L31 (-20.8264, -15.8) -> (-23.9006, -15.8)
  circle A0 centre (0, 0) radius 13.3 projected
  circle A1 centre (0, 0) radius 12.5
  dimension "d41" = 1
  dimension "d46" = 0.8
extrude "Extrusion6" add sketch "Sketch8" against normal up to surface (4 mm away)
sketch "Sketch9" plane through (0, 0, 0) normal (0, 0, -1) x (-1, 0, 0)
  circle A0 centre (-23.1006, 15) radius 1.05 projected
  circle A1 centre (23.1006, -15) radius 1.05 projected
  point P0 (0, 0)
extrude "Extrusion7" cut sketch "Sketch9" against normal through all
properties part number "20_Cube_Insert_CirAp_Guide"
